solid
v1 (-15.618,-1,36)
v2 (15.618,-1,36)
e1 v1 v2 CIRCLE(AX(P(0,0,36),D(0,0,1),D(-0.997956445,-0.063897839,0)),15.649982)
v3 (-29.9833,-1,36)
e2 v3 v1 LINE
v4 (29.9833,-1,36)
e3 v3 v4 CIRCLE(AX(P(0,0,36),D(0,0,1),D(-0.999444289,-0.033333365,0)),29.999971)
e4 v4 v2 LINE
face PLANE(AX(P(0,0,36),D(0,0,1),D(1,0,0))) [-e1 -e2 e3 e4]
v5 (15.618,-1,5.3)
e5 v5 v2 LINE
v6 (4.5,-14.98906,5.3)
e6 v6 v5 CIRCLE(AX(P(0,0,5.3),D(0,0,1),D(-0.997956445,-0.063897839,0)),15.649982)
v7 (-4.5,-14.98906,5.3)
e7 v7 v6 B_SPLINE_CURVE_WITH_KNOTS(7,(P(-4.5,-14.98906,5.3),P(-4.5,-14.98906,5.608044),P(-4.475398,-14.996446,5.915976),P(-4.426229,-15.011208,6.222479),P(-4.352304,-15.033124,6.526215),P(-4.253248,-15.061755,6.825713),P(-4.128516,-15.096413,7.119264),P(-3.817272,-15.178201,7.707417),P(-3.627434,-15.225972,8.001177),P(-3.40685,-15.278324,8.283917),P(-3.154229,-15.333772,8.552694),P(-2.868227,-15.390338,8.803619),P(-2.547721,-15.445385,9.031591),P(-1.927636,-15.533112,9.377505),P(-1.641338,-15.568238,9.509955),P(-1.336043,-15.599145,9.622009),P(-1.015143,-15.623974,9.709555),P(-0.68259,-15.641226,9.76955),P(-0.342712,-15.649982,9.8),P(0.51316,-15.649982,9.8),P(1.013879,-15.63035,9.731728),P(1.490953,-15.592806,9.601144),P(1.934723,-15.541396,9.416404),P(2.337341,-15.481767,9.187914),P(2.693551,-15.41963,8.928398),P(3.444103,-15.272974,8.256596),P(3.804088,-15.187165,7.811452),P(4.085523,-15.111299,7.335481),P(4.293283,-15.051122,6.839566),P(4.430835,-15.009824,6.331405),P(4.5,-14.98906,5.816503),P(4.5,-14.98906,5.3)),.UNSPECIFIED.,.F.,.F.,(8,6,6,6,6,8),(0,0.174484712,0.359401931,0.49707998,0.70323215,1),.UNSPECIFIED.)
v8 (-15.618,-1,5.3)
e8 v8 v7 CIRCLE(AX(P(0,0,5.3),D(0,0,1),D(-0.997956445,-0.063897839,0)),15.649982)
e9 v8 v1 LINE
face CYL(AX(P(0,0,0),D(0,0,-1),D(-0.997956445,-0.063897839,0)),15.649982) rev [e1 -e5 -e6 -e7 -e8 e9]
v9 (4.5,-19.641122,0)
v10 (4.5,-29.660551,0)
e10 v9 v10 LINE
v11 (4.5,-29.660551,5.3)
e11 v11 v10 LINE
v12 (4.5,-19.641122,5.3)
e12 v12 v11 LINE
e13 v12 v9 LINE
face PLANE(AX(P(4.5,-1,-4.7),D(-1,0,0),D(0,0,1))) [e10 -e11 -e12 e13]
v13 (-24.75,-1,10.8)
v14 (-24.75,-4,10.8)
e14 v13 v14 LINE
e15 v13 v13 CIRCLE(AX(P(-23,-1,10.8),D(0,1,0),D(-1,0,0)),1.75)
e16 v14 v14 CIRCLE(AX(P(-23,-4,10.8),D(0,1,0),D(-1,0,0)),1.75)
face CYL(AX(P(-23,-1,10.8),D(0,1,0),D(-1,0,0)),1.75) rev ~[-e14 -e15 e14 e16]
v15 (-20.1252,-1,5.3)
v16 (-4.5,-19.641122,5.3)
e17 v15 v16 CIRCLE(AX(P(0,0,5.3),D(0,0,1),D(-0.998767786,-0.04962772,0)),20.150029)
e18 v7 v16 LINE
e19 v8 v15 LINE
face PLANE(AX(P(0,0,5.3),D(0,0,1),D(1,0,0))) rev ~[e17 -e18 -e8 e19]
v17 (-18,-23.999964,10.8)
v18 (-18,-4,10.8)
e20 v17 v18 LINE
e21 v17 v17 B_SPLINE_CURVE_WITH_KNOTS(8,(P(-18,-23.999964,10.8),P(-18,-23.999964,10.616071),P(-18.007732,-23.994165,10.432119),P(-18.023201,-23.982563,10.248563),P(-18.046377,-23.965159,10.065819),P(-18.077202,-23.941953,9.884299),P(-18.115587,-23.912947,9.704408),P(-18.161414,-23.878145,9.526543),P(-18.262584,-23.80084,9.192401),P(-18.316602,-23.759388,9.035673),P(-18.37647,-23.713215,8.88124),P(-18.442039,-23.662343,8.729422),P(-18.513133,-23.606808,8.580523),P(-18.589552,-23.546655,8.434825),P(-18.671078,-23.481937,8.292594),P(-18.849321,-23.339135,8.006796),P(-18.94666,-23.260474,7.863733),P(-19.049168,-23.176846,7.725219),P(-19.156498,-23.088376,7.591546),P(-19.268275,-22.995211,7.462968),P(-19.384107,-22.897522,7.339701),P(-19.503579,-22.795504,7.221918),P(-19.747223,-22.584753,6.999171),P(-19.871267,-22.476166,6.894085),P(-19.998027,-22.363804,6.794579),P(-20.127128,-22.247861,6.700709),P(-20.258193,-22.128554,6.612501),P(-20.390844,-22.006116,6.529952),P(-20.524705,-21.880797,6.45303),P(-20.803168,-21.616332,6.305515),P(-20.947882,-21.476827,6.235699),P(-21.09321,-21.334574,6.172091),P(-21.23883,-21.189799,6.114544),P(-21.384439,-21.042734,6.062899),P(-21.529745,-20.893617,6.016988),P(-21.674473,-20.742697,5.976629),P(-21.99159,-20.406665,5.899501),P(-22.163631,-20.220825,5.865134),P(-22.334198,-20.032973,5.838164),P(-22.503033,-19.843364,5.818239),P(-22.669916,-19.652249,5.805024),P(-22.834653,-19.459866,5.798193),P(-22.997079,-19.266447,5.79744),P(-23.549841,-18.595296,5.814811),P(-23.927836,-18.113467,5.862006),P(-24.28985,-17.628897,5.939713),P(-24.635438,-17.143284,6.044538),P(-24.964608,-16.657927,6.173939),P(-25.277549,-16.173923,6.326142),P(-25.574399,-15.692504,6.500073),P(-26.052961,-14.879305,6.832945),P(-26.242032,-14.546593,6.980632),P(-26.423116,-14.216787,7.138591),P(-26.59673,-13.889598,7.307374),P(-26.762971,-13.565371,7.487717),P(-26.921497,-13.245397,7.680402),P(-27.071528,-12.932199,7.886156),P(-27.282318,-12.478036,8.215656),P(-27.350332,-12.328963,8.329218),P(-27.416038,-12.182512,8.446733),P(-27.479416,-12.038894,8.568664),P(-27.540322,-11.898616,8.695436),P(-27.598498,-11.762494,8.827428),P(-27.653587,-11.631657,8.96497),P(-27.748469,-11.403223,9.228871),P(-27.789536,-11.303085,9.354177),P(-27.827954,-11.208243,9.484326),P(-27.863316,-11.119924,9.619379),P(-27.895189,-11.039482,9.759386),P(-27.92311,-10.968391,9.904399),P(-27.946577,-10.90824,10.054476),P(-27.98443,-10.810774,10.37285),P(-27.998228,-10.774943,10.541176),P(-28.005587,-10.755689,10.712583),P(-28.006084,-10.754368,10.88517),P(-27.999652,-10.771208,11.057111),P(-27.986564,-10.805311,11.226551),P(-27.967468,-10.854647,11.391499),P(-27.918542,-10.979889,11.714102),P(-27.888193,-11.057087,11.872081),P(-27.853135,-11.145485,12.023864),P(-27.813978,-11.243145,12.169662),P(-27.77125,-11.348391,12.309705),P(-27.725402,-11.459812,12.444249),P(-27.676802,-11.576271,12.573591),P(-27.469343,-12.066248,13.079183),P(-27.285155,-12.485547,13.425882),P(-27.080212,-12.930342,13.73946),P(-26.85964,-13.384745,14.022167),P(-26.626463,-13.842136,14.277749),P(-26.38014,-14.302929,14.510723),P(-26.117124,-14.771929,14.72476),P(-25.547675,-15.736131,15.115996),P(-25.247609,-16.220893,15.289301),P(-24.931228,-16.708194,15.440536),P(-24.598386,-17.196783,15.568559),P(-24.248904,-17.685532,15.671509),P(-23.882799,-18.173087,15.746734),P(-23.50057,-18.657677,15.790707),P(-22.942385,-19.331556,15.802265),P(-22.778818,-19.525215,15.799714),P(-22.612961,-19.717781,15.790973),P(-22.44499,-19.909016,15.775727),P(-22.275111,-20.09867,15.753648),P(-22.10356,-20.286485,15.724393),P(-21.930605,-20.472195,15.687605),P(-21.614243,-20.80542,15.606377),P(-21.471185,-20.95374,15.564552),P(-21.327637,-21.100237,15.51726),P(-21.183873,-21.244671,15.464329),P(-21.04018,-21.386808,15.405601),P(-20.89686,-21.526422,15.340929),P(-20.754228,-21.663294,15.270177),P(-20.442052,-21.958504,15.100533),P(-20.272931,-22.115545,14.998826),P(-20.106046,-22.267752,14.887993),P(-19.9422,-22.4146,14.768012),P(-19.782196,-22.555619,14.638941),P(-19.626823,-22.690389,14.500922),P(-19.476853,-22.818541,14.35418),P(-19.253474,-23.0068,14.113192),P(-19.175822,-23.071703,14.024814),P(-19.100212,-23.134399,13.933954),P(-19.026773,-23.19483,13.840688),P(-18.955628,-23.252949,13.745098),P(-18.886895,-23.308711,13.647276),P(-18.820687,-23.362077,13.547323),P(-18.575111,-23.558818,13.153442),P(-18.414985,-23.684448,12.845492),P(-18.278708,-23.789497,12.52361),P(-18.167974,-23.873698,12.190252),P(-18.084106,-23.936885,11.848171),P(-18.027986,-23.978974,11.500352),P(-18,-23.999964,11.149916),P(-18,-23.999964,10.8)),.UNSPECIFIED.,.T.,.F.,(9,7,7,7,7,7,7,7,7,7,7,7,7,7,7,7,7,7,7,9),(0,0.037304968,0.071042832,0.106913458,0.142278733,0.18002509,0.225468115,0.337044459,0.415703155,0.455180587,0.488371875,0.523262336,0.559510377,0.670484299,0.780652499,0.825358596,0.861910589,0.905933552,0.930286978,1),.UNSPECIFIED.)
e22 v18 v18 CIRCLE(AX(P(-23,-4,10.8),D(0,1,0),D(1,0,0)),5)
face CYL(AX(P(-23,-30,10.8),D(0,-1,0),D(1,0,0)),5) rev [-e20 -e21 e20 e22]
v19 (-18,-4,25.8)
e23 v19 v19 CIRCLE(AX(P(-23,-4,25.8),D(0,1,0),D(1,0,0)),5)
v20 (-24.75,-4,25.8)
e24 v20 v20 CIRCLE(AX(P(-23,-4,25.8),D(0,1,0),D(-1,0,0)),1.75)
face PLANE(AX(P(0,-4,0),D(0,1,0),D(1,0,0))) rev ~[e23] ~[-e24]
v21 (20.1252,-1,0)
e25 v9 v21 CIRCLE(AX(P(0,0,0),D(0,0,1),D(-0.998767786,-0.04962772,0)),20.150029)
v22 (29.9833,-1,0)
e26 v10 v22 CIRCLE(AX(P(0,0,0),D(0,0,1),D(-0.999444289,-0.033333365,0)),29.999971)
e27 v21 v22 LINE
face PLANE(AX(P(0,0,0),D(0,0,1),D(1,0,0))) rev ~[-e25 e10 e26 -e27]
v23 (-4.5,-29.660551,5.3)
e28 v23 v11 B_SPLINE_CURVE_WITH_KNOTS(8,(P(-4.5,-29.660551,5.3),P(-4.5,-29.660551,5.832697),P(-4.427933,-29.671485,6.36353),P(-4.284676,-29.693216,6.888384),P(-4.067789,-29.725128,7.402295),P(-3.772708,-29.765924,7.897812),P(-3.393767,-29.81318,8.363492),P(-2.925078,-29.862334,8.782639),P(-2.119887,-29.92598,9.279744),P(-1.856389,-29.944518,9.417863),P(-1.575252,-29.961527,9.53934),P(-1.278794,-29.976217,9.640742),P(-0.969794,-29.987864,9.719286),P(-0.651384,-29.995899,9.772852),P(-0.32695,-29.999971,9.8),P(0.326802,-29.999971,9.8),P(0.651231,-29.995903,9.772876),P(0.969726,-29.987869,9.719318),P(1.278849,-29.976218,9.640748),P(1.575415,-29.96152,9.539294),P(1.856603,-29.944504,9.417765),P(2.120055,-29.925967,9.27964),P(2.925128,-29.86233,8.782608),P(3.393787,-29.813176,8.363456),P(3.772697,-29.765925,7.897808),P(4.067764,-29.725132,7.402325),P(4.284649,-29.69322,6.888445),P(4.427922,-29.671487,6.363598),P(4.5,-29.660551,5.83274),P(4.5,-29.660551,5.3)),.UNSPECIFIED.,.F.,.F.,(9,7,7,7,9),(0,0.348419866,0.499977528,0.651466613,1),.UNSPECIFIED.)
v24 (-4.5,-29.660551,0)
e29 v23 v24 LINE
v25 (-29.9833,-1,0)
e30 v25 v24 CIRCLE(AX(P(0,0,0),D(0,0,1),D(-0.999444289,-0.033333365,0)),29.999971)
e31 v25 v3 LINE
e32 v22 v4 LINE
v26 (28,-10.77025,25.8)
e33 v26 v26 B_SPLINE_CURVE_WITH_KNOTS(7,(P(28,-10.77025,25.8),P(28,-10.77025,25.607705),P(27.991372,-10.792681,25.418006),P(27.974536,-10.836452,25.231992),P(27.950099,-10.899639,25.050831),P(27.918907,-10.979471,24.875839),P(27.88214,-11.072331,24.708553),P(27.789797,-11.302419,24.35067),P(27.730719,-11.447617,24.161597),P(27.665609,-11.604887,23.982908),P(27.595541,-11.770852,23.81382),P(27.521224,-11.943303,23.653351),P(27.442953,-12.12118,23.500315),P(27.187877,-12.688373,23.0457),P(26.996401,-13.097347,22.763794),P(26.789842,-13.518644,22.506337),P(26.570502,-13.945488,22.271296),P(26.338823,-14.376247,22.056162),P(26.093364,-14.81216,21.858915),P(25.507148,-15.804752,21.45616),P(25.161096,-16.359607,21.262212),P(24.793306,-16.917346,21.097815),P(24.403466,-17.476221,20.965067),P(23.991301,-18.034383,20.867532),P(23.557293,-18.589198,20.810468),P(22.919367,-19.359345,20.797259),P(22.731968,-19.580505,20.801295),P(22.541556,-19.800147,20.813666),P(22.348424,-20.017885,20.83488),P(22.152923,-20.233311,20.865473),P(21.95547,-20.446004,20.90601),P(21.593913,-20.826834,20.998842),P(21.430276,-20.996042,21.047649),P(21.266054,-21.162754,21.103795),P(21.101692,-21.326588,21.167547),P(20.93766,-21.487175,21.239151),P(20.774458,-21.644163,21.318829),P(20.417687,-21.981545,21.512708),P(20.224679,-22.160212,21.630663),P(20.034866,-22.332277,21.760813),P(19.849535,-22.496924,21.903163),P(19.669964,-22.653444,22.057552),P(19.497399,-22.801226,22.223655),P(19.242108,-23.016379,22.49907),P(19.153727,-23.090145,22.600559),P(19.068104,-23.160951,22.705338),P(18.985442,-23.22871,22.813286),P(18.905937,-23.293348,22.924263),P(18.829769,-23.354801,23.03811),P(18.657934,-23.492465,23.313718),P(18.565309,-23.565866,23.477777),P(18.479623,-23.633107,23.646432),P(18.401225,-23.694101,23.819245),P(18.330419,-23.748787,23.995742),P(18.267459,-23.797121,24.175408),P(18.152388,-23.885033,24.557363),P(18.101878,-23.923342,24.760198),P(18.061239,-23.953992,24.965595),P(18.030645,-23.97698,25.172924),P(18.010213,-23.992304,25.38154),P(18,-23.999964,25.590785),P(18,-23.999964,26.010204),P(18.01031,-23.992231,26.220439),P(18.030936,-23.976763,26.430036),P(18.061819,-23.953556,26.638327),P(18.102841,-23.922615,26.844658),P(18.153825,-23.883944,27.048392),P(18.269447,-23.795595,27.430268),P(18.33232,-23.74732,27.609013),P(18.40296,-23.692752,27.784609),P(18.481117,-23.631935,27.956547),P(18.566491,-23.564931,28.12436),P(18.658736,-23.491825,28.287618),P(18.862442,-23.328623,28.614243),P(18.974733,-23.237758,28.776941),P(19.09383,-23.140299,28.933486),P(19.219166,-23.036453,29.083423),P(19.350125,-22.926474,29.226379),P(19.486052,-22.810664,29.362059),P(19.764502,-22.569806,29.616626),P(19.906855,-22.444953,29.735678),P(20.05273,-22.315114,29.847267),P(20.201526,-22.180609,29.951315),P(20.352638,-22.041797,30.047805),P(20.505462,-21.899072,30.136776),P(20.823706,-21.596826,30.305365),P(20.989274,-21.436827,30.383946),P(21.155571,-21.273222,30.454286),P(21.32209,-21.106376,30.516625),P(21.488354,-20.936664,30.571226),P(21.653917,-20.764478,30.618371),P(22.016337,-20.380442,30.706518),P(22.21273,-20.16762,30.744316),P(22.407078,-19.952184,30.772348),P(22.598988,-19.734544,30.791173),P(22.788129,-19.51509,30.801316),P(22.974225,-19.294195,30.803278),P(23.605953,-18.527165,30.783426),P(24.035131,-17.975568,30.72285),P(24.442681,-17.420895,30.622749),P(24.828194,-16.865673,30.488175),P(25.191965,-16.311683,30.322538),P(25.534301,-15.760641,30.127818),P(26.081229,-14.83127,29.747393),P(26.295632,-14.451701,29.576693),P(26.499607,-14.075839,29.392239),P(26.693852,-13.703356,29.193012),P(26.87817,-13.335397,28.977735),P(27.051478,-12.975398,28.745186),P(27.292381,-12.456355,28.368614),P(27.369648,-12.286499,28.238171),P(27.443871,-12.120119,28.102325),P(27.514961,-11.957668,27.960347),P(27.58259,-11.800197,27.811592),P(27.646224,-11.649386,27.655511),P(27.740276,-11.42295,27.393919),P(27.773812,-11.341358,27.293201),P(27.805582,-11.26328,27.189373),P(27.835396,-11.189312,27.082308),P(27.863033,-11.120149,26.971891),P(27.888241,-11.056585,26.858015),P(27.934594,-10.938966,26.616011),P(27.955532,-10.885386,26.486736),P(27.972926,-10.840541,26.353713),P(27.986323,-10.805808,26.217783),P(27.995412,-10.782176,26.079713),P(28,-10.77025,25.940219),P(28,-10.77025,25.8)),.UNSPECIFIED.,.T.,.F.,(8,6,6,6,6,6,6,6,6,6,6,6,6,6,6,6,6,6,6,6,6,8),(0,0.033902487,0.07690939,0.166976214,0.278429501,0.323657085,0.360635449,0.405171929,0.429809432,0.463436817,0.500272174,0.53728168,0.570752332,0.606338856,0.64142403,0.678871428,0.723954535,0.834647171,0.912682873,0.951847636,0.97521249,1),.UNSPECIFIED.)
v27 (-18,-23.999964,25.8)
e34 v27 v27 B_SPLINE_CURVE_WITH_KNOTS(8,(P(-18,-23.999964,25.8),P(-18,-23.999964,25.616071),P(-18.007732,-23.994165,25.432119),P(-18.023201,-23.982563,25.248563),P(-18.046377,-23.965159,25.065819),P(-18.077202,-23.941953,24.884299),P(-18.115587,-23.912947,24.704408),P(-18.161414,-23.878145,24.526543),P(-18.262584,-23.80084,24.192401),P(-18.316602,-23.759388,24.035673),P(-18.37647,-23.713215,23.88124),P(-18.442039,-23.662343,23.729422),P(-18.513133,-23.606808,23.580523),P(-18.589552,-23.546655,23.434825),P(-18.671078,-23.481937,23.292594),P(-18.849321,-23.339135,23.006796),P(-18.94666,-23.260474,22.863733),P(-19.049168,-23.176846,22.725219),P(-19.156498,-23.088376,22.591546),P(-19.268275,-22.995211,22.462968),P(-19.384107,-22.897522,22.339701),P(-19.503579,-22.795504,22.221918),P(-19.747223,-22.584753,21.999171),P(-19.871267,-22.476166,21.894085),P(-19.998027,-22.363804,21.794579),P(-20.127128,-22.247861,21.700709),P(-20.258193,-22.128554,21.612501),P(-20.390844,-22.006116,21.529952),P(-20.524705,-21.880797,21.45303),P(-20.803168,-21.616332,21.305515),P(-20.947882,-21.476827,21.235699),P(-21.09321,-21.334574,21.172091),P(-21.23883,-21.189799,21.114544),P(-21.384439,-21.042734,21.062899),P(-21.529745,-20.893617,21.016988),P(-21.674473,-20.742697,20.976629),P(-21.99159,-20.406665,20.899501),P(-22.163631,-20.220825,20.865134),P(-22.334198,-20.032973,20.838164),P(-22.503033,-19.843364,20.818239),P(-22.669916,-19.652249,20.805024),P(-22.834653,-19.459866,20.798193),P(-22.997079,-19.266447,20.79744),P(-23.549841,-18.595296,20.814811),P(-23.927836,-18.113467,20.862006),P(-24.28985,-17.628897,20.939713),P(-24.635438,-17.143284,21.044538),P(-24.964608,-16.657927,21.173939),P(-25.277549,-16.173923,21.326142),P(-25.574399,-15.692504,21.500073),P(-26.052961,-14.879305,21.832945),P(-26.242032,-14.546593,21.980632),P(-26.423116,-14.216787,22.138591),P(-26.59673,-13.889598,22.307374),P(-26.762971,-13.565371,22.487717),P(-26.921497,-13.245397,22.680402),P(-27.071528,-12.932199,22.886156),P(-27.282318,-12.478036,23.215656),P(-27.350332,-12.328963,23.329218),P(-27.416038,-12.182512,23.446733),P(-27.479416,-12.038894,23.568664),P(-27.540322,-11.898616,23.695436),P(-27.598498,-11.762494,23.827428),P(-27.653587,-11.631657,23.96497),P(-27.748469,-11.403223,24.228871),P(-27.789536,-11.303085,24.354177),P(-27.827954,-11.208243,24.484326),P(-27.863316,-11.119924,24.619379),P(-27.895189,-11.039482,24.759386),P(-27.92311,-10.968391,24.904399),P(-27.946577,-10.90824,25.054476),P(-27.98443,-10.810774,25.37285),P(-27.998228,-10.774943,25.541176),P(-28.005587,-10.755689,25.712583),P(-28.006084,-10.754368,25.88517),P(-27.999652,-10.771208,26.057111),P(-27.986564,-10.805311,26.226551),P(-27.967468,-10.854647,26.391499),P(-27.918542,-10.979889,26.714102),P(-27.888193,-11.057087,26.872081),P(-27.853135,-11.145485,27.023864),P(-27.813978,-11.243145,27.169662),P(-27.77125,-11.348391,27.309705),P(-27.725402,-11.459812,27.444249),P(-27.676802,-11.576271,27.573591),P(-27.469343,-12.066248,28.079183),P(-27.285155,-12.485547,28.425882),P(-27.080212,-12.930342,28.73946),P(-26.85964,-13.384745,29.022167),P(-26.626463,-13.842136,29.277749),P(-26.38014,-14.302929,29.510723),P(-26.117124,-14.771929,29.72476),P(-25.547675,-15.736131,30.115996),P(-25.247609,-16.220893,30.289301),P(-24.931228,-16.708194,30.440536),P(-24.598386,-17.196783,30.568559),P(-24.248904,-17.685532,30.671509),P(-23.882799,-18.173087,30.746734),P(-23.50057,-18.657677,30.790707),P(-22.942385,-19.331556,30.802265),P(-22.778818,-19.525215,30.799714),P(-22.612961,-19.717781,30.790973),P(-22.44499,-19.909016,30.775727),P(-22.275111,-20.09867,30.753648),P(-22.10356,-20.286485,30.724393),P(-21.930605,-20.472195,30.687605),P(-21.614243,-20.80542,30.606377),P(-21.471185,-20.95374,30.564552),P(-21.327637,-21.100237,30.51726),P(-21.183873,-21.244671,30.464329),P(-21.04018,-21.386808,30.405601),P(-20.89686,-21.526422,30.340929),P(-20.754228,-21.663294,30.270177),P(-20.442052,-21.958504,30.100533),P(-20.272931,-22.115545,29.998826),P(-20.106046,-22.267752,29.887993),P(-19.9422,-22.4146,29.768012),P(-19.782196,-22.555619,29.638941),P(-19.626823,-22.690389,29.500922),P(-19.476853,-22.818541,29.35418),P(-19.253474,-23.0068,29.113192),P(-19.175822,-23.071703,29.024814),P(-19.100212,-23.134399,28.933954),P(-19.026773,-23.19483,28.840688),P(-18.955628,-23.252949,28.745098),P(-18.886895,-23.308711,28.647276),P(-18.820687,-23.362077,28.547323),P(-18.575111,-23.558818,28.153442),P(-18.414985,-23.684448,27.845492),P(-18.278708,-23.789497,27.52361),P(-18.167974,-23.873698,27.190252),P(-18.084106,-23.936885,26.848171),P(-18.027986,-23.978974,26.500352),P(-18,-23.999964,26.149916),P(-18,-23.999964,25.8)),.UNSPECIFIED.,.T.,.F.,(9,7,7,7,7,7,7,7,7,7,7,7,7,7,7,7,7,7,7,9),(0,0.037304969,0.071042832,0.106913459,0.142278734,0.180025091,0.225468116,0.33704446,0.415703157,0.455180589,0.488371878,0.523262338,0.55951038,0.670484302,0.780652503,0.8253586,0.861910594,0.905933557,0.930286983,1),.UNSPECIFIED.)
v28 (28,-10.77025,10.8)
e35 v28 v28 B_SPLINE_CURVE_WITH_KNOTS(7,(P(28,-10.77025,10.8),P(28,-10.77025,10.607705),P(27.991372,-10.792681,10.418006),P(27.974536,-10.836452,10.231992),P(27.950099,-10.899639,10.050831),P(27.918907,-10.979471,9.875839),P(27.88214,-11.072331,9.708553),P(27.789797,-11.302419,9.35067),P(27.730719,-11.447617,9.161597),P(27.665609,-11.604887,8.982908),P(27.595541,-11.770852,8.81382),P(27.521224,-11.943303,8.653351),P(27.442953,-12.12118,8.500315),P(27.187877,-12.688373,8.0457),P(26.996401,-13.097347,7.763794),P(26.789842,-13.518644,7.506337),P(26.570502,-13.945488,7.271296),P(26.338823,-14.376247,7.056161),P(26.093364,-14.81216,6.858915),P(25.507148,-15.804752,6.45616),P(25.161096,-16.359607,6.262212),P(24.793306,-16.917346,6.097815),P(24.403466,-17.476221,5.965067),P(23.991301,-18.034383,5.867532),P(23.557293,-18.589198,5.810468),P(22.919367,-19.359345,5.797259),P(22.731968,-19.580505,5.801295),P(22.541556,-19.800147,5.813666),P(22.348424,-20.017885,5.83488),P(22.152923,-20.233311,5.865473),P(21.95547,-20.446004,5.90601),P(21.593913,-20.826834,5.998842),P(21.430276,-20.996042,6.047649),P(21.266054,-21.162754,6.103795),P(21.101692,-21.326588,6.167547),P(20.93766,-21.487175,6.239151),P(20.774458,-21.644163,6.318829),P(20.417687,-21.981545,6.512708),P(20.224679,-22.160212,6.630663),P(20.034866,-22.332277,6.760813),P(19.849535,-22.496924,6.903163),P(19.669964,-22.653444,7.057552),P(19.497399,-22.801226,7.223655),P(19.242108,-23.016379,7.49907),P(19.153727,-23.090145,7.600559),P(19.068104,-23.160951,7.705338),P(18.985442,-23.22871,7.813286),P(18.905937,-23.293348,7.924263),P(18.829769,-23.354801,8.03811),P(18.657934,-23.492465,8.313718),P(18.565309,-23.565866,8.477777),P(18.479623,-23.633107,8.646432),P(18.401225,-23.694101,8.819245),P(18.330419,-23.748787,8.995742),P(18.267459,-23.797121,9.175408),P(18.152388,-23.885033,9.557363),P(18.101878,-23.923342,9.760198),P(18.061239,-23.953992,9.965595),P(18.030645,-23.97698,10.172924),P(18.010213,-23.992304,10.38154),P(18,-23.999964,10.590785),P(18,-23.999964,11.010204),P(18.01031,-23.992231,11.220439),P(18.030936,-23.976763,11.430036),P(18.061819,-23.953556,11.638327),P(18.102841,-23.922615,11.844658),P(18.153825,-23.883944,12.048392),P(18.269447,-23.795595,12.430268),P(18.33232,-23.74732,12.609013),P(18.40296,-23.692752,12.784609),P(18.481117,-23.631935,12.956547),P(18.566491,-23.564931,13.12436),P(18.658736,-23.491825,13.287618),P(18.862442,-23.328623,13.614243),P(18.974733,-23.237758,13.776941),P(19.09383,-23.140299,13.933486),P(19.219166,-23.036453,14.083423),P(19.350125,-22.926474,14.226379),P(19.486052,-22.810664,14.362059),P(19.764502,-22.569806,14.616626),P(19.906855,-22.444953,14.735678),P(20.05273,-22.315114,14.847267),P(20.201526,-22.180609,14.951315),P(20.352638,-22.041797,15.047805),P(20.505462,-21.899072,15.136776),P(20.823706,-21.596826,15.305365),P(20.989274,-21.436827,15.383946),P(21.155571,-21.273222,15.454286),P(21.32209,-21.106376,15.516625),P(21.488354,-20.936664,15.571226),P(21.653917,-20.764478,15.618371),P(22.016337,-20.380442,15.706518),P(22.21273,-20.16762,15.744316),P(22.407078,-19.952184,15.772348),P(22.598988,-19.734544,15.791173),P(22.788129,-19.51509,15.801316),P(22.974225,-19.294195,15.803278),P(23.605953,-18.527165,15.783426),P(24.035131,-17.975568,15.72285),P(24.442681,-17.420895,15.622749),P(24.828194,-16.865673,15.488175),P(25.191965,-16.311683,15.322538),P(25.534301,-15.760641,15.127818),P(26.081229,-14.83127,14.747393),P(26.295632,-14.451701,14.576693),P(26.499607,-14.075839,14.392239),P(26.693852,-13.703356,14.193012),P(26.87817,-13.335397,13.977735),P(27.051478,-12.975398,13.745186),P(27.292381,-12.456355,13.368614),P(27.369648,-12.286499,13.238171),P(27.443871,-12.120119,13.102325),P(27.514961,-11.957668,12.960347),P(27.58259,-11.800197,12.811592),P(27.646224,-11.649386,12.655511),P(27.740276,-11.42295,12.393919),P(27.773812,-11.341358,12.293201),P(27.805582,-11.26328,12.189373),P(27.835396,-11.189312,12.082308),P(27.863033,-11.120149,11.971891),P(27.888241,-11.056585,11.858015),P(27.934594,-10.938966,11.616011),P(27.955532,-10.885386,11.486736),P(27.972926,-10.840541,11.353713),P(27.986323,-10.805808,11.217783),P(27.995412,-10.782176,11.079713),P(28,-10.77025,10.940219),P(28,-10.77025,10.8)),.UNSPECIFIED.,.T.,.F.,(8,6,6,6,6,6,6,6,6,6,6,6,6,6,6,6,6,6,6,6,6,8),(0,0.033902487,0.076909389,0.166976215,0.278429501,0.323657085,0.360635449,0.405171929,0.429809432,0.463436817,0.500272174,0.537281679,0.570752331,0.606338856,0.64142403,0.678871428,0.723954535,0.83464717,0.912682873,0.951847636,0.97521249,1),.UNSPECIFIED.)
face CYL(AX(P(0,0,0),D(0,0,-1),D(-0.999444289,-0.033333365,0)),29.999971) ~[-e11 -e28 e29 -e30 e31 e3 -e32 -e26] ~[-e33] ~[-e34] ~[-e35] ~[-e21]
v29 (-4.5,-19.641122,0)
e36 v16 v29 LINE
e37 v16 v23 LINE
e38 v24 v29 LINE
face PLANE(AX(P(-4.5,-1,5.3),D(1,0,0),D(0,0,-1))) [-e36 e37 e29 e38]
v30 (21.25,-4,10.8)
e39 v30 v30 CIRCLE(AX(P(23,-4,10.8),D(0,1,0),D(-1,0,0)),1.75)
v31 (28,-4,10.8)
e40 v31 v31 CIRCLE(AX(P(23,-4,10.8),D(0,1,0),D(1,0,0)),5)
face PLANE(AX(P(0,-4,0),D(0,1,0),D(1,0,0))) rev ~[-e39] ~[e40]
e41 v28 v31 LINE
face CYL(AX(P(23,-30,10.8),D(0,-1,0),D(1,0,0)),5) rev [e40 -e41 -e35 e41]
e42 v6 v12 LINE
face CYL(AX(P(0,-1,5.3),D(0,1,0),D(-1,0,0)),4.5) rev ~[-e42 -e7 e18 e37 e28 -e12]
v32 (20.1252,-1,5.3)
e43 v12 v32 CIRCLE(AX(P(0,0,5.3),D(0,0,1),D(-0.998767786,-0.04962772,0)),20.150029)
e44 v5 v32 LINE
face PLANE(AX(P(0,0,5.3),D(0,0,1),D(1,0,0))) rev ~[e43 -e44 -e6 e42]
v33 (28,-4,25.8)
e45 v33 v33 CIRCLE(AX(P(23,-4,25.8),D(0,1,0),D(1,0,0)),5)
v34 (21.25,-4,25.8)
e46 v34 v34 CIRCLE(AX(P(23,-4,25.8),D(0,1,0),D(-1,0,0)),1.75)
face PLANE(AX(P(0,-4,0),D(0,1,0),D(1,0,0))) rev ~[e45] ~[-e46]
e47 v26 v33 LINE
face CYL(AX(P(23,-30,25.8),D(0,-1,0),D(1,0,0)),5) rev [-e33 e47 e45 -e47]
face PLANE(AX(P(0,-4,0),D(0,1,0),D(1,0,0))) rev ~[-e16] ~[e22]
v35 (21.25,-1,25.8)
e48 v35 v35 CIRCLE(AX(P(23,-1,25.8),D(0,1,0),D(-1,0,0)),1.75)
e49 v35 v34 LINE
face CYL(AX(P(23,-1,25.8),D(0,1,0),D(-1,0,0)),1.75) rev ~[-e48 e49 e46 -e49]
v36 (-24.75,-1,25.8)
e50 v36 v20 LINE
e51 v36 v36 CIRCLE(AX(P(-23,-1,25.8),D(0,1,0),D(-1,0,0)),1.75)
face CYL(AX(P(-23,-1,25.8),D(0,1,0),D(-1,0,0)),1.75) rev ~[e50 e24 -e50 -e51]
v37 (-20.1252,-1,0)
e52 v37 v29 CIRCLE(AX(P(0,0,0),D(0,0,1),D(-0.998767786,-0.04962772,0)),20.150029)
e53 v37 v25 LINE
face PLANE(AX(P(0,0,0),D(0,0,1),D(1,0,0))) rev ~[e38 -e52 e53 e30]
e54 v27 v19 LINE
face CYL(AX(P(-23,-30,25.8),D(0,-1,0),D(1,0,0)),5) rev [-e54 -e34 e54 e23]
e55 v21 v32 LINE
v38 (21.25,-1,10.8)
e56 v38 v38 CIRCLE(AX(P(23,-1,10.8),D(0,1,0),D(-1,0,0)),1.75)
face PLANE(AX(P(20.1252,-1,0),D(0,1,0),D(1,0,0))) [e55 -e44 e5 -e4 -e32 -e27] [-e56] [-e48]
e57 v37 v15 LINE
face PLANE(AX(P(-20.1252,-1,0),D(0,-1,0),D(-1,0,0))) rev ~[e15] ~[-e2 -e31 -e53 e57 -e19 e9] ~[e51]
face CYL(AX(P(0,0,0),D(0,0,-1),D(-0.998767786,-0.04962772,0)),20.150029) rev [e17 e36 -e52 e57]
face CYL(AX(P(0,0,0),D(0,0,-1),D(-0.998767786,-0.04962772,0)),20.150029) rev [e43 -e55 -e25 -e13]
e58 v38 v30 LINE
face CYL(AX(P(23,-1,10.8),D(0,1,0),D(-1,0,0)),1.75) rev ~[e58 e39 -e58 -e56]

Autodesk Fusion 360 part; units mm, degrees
sketch "Skizze1" plane through (0, 0, 0) normal (0, 0, 1) x (1, 0, 0)
  line L0 (-46.6781, -1) -> (43.3215, -1) construction
  arc A0 (-29.9833, -1) -> (29.9833, -1) centre (0, 0) ccw
  arc A1 (-20.1252, -1) -> (20.1252, -1) centre (0, 0) ccw
  arc A2 (-15.618, -1) -> (15.618, -1) centre (0, 0) ccw
  line L1 (15.618, -1) -> (29.9833, -1)
  line L2 (-15.618, -1) -> (-29.9833, -1)
  point P0 (-29.9833, -1)
  point P1 (-20.1252, -1)
  point P2 (-15.618, -1)
  point P3 (15.618, -1)
  point P4 (20.1252, -1)
  point P5 (29.9833, -1)
  dimension "d6" = 1
  dimension "d7" = 30
  dimension "d8" = 20.15
  dimension "d9" = 15.65
extrude "Extrusion1" add sketch "Skizze1" along normal blind 36
extrude "Extrusion2" cut sketch "Skizze1" along normal blind 5.3 contours A1 A2 L1 L2
sketch "Skizze3" plane through (0, -1, 0) normal (0, 1, 0) x (-1, 0, 0)
  line L0 (20.1252, 5.3) -> (20.1252, 0)
  line L1 (20.1252, 0) -> (29.9833, 0)
  line L2 (29.9833, 0) -> (29.9833, 36)
  line L3 (29.9833, 36) -> (15.618, 36)
  line L4 (15.618, 36) -> (15.618, 5.3)
  line L5 (15.618, 5.3) -> (20.1252, 5.3)
  line L6 (-23, 38.9334) -> (-23, -25) construction
  line L7 (23, 38.9334) -> (23, -33.2487) construction
  line L8 (-52.1355, 10.8) -> (51.6739, 10.8) construction
  line L9 (-50.0712, 25.8) -> (44.4743, 25.8) construction
  circle A0 centre (-23, 25.8) radius 1.75
  circle A1 centre (-23, 10.8) radius 1.75
  circle A2 centre (23, 25.8) radius 1.75
  circle A3 centre (23, 10.8) radius 1.75
  line L10 (-51.02, 5.3) -> (55, 5.3) construction
  line L11 (0, 38.1175) -> (0, -20) construction
  line L12 (-4.5, 5.3) -> (4.5, 5.3)
  line L13 (4.5, 5.3) -> (4.5, -4.7)
  line L14 (4.5, -4.7) -> (-4.5, -4.7)
  line L15 (-4.5, -4.7) -> (-4.5, 5.3)
  arc A4 (4.5, 5.3) -> (-4.5, 5.3) centre (0, 5.3) ccw
  point P0 (-23, 25.8)
  point P1 (-23, 10.8)
  point P2 (23, 25.8)
  point P3 (23, 10.8)
  dimension "d14" = 10.8
  dimension "d15" = 25.8
  dimension "d17" = 3.5
  dimension "d18" = 3.5
  dimension "d19" = 3.5
  dimension "d20" = 3.5
  dimension "d21" = 5.3
  dimension "d29" = 23
  dimension "d30" = 23
extrude "Extrusion3" cut sketch "Skizze3" against normal blind 100 contours A0 | A1 | A2 | A3 | L12 A4 | L12 L13 L14 L15
ref_plane "Arbeitsebene1" through (0, -30, 0) normal (0, 1, 0) x (0, 0, 1)
sketch "Skizze5" plane through (0, -30, 0) normal (0, 1, 0) x (1, 0, 0)
  line L0 (23, -32.4719) -> (23, 19) construction
  line L1 (-23, -30.4738) -> (-23, 19) construction
  line L2 (48, -10.8) -> (-39, -10.8) construction
  line L3 (47, -25.8) -> (-45, -25.8) construction
  circle A0 centre (23, -25.8) radius 5
  circle A1 centre (23, -10.8) radius 5
  circle A2 centre (-23, -25.8) radius 5
  circle A3 centre (-23, -10.8) radius 5
  dimension "d27" = 23
  dimension "d31" = 23
  dimension "d32" = 10.8
  dimension "d33" = 25.8
  dimension "d34" = 10
  dimension "d35" = 10
  dimension "d36" = 10
  dimension "d37" = 10
extrude "Extrusion4" cut sketch "Skizze5" along normal blind 26
